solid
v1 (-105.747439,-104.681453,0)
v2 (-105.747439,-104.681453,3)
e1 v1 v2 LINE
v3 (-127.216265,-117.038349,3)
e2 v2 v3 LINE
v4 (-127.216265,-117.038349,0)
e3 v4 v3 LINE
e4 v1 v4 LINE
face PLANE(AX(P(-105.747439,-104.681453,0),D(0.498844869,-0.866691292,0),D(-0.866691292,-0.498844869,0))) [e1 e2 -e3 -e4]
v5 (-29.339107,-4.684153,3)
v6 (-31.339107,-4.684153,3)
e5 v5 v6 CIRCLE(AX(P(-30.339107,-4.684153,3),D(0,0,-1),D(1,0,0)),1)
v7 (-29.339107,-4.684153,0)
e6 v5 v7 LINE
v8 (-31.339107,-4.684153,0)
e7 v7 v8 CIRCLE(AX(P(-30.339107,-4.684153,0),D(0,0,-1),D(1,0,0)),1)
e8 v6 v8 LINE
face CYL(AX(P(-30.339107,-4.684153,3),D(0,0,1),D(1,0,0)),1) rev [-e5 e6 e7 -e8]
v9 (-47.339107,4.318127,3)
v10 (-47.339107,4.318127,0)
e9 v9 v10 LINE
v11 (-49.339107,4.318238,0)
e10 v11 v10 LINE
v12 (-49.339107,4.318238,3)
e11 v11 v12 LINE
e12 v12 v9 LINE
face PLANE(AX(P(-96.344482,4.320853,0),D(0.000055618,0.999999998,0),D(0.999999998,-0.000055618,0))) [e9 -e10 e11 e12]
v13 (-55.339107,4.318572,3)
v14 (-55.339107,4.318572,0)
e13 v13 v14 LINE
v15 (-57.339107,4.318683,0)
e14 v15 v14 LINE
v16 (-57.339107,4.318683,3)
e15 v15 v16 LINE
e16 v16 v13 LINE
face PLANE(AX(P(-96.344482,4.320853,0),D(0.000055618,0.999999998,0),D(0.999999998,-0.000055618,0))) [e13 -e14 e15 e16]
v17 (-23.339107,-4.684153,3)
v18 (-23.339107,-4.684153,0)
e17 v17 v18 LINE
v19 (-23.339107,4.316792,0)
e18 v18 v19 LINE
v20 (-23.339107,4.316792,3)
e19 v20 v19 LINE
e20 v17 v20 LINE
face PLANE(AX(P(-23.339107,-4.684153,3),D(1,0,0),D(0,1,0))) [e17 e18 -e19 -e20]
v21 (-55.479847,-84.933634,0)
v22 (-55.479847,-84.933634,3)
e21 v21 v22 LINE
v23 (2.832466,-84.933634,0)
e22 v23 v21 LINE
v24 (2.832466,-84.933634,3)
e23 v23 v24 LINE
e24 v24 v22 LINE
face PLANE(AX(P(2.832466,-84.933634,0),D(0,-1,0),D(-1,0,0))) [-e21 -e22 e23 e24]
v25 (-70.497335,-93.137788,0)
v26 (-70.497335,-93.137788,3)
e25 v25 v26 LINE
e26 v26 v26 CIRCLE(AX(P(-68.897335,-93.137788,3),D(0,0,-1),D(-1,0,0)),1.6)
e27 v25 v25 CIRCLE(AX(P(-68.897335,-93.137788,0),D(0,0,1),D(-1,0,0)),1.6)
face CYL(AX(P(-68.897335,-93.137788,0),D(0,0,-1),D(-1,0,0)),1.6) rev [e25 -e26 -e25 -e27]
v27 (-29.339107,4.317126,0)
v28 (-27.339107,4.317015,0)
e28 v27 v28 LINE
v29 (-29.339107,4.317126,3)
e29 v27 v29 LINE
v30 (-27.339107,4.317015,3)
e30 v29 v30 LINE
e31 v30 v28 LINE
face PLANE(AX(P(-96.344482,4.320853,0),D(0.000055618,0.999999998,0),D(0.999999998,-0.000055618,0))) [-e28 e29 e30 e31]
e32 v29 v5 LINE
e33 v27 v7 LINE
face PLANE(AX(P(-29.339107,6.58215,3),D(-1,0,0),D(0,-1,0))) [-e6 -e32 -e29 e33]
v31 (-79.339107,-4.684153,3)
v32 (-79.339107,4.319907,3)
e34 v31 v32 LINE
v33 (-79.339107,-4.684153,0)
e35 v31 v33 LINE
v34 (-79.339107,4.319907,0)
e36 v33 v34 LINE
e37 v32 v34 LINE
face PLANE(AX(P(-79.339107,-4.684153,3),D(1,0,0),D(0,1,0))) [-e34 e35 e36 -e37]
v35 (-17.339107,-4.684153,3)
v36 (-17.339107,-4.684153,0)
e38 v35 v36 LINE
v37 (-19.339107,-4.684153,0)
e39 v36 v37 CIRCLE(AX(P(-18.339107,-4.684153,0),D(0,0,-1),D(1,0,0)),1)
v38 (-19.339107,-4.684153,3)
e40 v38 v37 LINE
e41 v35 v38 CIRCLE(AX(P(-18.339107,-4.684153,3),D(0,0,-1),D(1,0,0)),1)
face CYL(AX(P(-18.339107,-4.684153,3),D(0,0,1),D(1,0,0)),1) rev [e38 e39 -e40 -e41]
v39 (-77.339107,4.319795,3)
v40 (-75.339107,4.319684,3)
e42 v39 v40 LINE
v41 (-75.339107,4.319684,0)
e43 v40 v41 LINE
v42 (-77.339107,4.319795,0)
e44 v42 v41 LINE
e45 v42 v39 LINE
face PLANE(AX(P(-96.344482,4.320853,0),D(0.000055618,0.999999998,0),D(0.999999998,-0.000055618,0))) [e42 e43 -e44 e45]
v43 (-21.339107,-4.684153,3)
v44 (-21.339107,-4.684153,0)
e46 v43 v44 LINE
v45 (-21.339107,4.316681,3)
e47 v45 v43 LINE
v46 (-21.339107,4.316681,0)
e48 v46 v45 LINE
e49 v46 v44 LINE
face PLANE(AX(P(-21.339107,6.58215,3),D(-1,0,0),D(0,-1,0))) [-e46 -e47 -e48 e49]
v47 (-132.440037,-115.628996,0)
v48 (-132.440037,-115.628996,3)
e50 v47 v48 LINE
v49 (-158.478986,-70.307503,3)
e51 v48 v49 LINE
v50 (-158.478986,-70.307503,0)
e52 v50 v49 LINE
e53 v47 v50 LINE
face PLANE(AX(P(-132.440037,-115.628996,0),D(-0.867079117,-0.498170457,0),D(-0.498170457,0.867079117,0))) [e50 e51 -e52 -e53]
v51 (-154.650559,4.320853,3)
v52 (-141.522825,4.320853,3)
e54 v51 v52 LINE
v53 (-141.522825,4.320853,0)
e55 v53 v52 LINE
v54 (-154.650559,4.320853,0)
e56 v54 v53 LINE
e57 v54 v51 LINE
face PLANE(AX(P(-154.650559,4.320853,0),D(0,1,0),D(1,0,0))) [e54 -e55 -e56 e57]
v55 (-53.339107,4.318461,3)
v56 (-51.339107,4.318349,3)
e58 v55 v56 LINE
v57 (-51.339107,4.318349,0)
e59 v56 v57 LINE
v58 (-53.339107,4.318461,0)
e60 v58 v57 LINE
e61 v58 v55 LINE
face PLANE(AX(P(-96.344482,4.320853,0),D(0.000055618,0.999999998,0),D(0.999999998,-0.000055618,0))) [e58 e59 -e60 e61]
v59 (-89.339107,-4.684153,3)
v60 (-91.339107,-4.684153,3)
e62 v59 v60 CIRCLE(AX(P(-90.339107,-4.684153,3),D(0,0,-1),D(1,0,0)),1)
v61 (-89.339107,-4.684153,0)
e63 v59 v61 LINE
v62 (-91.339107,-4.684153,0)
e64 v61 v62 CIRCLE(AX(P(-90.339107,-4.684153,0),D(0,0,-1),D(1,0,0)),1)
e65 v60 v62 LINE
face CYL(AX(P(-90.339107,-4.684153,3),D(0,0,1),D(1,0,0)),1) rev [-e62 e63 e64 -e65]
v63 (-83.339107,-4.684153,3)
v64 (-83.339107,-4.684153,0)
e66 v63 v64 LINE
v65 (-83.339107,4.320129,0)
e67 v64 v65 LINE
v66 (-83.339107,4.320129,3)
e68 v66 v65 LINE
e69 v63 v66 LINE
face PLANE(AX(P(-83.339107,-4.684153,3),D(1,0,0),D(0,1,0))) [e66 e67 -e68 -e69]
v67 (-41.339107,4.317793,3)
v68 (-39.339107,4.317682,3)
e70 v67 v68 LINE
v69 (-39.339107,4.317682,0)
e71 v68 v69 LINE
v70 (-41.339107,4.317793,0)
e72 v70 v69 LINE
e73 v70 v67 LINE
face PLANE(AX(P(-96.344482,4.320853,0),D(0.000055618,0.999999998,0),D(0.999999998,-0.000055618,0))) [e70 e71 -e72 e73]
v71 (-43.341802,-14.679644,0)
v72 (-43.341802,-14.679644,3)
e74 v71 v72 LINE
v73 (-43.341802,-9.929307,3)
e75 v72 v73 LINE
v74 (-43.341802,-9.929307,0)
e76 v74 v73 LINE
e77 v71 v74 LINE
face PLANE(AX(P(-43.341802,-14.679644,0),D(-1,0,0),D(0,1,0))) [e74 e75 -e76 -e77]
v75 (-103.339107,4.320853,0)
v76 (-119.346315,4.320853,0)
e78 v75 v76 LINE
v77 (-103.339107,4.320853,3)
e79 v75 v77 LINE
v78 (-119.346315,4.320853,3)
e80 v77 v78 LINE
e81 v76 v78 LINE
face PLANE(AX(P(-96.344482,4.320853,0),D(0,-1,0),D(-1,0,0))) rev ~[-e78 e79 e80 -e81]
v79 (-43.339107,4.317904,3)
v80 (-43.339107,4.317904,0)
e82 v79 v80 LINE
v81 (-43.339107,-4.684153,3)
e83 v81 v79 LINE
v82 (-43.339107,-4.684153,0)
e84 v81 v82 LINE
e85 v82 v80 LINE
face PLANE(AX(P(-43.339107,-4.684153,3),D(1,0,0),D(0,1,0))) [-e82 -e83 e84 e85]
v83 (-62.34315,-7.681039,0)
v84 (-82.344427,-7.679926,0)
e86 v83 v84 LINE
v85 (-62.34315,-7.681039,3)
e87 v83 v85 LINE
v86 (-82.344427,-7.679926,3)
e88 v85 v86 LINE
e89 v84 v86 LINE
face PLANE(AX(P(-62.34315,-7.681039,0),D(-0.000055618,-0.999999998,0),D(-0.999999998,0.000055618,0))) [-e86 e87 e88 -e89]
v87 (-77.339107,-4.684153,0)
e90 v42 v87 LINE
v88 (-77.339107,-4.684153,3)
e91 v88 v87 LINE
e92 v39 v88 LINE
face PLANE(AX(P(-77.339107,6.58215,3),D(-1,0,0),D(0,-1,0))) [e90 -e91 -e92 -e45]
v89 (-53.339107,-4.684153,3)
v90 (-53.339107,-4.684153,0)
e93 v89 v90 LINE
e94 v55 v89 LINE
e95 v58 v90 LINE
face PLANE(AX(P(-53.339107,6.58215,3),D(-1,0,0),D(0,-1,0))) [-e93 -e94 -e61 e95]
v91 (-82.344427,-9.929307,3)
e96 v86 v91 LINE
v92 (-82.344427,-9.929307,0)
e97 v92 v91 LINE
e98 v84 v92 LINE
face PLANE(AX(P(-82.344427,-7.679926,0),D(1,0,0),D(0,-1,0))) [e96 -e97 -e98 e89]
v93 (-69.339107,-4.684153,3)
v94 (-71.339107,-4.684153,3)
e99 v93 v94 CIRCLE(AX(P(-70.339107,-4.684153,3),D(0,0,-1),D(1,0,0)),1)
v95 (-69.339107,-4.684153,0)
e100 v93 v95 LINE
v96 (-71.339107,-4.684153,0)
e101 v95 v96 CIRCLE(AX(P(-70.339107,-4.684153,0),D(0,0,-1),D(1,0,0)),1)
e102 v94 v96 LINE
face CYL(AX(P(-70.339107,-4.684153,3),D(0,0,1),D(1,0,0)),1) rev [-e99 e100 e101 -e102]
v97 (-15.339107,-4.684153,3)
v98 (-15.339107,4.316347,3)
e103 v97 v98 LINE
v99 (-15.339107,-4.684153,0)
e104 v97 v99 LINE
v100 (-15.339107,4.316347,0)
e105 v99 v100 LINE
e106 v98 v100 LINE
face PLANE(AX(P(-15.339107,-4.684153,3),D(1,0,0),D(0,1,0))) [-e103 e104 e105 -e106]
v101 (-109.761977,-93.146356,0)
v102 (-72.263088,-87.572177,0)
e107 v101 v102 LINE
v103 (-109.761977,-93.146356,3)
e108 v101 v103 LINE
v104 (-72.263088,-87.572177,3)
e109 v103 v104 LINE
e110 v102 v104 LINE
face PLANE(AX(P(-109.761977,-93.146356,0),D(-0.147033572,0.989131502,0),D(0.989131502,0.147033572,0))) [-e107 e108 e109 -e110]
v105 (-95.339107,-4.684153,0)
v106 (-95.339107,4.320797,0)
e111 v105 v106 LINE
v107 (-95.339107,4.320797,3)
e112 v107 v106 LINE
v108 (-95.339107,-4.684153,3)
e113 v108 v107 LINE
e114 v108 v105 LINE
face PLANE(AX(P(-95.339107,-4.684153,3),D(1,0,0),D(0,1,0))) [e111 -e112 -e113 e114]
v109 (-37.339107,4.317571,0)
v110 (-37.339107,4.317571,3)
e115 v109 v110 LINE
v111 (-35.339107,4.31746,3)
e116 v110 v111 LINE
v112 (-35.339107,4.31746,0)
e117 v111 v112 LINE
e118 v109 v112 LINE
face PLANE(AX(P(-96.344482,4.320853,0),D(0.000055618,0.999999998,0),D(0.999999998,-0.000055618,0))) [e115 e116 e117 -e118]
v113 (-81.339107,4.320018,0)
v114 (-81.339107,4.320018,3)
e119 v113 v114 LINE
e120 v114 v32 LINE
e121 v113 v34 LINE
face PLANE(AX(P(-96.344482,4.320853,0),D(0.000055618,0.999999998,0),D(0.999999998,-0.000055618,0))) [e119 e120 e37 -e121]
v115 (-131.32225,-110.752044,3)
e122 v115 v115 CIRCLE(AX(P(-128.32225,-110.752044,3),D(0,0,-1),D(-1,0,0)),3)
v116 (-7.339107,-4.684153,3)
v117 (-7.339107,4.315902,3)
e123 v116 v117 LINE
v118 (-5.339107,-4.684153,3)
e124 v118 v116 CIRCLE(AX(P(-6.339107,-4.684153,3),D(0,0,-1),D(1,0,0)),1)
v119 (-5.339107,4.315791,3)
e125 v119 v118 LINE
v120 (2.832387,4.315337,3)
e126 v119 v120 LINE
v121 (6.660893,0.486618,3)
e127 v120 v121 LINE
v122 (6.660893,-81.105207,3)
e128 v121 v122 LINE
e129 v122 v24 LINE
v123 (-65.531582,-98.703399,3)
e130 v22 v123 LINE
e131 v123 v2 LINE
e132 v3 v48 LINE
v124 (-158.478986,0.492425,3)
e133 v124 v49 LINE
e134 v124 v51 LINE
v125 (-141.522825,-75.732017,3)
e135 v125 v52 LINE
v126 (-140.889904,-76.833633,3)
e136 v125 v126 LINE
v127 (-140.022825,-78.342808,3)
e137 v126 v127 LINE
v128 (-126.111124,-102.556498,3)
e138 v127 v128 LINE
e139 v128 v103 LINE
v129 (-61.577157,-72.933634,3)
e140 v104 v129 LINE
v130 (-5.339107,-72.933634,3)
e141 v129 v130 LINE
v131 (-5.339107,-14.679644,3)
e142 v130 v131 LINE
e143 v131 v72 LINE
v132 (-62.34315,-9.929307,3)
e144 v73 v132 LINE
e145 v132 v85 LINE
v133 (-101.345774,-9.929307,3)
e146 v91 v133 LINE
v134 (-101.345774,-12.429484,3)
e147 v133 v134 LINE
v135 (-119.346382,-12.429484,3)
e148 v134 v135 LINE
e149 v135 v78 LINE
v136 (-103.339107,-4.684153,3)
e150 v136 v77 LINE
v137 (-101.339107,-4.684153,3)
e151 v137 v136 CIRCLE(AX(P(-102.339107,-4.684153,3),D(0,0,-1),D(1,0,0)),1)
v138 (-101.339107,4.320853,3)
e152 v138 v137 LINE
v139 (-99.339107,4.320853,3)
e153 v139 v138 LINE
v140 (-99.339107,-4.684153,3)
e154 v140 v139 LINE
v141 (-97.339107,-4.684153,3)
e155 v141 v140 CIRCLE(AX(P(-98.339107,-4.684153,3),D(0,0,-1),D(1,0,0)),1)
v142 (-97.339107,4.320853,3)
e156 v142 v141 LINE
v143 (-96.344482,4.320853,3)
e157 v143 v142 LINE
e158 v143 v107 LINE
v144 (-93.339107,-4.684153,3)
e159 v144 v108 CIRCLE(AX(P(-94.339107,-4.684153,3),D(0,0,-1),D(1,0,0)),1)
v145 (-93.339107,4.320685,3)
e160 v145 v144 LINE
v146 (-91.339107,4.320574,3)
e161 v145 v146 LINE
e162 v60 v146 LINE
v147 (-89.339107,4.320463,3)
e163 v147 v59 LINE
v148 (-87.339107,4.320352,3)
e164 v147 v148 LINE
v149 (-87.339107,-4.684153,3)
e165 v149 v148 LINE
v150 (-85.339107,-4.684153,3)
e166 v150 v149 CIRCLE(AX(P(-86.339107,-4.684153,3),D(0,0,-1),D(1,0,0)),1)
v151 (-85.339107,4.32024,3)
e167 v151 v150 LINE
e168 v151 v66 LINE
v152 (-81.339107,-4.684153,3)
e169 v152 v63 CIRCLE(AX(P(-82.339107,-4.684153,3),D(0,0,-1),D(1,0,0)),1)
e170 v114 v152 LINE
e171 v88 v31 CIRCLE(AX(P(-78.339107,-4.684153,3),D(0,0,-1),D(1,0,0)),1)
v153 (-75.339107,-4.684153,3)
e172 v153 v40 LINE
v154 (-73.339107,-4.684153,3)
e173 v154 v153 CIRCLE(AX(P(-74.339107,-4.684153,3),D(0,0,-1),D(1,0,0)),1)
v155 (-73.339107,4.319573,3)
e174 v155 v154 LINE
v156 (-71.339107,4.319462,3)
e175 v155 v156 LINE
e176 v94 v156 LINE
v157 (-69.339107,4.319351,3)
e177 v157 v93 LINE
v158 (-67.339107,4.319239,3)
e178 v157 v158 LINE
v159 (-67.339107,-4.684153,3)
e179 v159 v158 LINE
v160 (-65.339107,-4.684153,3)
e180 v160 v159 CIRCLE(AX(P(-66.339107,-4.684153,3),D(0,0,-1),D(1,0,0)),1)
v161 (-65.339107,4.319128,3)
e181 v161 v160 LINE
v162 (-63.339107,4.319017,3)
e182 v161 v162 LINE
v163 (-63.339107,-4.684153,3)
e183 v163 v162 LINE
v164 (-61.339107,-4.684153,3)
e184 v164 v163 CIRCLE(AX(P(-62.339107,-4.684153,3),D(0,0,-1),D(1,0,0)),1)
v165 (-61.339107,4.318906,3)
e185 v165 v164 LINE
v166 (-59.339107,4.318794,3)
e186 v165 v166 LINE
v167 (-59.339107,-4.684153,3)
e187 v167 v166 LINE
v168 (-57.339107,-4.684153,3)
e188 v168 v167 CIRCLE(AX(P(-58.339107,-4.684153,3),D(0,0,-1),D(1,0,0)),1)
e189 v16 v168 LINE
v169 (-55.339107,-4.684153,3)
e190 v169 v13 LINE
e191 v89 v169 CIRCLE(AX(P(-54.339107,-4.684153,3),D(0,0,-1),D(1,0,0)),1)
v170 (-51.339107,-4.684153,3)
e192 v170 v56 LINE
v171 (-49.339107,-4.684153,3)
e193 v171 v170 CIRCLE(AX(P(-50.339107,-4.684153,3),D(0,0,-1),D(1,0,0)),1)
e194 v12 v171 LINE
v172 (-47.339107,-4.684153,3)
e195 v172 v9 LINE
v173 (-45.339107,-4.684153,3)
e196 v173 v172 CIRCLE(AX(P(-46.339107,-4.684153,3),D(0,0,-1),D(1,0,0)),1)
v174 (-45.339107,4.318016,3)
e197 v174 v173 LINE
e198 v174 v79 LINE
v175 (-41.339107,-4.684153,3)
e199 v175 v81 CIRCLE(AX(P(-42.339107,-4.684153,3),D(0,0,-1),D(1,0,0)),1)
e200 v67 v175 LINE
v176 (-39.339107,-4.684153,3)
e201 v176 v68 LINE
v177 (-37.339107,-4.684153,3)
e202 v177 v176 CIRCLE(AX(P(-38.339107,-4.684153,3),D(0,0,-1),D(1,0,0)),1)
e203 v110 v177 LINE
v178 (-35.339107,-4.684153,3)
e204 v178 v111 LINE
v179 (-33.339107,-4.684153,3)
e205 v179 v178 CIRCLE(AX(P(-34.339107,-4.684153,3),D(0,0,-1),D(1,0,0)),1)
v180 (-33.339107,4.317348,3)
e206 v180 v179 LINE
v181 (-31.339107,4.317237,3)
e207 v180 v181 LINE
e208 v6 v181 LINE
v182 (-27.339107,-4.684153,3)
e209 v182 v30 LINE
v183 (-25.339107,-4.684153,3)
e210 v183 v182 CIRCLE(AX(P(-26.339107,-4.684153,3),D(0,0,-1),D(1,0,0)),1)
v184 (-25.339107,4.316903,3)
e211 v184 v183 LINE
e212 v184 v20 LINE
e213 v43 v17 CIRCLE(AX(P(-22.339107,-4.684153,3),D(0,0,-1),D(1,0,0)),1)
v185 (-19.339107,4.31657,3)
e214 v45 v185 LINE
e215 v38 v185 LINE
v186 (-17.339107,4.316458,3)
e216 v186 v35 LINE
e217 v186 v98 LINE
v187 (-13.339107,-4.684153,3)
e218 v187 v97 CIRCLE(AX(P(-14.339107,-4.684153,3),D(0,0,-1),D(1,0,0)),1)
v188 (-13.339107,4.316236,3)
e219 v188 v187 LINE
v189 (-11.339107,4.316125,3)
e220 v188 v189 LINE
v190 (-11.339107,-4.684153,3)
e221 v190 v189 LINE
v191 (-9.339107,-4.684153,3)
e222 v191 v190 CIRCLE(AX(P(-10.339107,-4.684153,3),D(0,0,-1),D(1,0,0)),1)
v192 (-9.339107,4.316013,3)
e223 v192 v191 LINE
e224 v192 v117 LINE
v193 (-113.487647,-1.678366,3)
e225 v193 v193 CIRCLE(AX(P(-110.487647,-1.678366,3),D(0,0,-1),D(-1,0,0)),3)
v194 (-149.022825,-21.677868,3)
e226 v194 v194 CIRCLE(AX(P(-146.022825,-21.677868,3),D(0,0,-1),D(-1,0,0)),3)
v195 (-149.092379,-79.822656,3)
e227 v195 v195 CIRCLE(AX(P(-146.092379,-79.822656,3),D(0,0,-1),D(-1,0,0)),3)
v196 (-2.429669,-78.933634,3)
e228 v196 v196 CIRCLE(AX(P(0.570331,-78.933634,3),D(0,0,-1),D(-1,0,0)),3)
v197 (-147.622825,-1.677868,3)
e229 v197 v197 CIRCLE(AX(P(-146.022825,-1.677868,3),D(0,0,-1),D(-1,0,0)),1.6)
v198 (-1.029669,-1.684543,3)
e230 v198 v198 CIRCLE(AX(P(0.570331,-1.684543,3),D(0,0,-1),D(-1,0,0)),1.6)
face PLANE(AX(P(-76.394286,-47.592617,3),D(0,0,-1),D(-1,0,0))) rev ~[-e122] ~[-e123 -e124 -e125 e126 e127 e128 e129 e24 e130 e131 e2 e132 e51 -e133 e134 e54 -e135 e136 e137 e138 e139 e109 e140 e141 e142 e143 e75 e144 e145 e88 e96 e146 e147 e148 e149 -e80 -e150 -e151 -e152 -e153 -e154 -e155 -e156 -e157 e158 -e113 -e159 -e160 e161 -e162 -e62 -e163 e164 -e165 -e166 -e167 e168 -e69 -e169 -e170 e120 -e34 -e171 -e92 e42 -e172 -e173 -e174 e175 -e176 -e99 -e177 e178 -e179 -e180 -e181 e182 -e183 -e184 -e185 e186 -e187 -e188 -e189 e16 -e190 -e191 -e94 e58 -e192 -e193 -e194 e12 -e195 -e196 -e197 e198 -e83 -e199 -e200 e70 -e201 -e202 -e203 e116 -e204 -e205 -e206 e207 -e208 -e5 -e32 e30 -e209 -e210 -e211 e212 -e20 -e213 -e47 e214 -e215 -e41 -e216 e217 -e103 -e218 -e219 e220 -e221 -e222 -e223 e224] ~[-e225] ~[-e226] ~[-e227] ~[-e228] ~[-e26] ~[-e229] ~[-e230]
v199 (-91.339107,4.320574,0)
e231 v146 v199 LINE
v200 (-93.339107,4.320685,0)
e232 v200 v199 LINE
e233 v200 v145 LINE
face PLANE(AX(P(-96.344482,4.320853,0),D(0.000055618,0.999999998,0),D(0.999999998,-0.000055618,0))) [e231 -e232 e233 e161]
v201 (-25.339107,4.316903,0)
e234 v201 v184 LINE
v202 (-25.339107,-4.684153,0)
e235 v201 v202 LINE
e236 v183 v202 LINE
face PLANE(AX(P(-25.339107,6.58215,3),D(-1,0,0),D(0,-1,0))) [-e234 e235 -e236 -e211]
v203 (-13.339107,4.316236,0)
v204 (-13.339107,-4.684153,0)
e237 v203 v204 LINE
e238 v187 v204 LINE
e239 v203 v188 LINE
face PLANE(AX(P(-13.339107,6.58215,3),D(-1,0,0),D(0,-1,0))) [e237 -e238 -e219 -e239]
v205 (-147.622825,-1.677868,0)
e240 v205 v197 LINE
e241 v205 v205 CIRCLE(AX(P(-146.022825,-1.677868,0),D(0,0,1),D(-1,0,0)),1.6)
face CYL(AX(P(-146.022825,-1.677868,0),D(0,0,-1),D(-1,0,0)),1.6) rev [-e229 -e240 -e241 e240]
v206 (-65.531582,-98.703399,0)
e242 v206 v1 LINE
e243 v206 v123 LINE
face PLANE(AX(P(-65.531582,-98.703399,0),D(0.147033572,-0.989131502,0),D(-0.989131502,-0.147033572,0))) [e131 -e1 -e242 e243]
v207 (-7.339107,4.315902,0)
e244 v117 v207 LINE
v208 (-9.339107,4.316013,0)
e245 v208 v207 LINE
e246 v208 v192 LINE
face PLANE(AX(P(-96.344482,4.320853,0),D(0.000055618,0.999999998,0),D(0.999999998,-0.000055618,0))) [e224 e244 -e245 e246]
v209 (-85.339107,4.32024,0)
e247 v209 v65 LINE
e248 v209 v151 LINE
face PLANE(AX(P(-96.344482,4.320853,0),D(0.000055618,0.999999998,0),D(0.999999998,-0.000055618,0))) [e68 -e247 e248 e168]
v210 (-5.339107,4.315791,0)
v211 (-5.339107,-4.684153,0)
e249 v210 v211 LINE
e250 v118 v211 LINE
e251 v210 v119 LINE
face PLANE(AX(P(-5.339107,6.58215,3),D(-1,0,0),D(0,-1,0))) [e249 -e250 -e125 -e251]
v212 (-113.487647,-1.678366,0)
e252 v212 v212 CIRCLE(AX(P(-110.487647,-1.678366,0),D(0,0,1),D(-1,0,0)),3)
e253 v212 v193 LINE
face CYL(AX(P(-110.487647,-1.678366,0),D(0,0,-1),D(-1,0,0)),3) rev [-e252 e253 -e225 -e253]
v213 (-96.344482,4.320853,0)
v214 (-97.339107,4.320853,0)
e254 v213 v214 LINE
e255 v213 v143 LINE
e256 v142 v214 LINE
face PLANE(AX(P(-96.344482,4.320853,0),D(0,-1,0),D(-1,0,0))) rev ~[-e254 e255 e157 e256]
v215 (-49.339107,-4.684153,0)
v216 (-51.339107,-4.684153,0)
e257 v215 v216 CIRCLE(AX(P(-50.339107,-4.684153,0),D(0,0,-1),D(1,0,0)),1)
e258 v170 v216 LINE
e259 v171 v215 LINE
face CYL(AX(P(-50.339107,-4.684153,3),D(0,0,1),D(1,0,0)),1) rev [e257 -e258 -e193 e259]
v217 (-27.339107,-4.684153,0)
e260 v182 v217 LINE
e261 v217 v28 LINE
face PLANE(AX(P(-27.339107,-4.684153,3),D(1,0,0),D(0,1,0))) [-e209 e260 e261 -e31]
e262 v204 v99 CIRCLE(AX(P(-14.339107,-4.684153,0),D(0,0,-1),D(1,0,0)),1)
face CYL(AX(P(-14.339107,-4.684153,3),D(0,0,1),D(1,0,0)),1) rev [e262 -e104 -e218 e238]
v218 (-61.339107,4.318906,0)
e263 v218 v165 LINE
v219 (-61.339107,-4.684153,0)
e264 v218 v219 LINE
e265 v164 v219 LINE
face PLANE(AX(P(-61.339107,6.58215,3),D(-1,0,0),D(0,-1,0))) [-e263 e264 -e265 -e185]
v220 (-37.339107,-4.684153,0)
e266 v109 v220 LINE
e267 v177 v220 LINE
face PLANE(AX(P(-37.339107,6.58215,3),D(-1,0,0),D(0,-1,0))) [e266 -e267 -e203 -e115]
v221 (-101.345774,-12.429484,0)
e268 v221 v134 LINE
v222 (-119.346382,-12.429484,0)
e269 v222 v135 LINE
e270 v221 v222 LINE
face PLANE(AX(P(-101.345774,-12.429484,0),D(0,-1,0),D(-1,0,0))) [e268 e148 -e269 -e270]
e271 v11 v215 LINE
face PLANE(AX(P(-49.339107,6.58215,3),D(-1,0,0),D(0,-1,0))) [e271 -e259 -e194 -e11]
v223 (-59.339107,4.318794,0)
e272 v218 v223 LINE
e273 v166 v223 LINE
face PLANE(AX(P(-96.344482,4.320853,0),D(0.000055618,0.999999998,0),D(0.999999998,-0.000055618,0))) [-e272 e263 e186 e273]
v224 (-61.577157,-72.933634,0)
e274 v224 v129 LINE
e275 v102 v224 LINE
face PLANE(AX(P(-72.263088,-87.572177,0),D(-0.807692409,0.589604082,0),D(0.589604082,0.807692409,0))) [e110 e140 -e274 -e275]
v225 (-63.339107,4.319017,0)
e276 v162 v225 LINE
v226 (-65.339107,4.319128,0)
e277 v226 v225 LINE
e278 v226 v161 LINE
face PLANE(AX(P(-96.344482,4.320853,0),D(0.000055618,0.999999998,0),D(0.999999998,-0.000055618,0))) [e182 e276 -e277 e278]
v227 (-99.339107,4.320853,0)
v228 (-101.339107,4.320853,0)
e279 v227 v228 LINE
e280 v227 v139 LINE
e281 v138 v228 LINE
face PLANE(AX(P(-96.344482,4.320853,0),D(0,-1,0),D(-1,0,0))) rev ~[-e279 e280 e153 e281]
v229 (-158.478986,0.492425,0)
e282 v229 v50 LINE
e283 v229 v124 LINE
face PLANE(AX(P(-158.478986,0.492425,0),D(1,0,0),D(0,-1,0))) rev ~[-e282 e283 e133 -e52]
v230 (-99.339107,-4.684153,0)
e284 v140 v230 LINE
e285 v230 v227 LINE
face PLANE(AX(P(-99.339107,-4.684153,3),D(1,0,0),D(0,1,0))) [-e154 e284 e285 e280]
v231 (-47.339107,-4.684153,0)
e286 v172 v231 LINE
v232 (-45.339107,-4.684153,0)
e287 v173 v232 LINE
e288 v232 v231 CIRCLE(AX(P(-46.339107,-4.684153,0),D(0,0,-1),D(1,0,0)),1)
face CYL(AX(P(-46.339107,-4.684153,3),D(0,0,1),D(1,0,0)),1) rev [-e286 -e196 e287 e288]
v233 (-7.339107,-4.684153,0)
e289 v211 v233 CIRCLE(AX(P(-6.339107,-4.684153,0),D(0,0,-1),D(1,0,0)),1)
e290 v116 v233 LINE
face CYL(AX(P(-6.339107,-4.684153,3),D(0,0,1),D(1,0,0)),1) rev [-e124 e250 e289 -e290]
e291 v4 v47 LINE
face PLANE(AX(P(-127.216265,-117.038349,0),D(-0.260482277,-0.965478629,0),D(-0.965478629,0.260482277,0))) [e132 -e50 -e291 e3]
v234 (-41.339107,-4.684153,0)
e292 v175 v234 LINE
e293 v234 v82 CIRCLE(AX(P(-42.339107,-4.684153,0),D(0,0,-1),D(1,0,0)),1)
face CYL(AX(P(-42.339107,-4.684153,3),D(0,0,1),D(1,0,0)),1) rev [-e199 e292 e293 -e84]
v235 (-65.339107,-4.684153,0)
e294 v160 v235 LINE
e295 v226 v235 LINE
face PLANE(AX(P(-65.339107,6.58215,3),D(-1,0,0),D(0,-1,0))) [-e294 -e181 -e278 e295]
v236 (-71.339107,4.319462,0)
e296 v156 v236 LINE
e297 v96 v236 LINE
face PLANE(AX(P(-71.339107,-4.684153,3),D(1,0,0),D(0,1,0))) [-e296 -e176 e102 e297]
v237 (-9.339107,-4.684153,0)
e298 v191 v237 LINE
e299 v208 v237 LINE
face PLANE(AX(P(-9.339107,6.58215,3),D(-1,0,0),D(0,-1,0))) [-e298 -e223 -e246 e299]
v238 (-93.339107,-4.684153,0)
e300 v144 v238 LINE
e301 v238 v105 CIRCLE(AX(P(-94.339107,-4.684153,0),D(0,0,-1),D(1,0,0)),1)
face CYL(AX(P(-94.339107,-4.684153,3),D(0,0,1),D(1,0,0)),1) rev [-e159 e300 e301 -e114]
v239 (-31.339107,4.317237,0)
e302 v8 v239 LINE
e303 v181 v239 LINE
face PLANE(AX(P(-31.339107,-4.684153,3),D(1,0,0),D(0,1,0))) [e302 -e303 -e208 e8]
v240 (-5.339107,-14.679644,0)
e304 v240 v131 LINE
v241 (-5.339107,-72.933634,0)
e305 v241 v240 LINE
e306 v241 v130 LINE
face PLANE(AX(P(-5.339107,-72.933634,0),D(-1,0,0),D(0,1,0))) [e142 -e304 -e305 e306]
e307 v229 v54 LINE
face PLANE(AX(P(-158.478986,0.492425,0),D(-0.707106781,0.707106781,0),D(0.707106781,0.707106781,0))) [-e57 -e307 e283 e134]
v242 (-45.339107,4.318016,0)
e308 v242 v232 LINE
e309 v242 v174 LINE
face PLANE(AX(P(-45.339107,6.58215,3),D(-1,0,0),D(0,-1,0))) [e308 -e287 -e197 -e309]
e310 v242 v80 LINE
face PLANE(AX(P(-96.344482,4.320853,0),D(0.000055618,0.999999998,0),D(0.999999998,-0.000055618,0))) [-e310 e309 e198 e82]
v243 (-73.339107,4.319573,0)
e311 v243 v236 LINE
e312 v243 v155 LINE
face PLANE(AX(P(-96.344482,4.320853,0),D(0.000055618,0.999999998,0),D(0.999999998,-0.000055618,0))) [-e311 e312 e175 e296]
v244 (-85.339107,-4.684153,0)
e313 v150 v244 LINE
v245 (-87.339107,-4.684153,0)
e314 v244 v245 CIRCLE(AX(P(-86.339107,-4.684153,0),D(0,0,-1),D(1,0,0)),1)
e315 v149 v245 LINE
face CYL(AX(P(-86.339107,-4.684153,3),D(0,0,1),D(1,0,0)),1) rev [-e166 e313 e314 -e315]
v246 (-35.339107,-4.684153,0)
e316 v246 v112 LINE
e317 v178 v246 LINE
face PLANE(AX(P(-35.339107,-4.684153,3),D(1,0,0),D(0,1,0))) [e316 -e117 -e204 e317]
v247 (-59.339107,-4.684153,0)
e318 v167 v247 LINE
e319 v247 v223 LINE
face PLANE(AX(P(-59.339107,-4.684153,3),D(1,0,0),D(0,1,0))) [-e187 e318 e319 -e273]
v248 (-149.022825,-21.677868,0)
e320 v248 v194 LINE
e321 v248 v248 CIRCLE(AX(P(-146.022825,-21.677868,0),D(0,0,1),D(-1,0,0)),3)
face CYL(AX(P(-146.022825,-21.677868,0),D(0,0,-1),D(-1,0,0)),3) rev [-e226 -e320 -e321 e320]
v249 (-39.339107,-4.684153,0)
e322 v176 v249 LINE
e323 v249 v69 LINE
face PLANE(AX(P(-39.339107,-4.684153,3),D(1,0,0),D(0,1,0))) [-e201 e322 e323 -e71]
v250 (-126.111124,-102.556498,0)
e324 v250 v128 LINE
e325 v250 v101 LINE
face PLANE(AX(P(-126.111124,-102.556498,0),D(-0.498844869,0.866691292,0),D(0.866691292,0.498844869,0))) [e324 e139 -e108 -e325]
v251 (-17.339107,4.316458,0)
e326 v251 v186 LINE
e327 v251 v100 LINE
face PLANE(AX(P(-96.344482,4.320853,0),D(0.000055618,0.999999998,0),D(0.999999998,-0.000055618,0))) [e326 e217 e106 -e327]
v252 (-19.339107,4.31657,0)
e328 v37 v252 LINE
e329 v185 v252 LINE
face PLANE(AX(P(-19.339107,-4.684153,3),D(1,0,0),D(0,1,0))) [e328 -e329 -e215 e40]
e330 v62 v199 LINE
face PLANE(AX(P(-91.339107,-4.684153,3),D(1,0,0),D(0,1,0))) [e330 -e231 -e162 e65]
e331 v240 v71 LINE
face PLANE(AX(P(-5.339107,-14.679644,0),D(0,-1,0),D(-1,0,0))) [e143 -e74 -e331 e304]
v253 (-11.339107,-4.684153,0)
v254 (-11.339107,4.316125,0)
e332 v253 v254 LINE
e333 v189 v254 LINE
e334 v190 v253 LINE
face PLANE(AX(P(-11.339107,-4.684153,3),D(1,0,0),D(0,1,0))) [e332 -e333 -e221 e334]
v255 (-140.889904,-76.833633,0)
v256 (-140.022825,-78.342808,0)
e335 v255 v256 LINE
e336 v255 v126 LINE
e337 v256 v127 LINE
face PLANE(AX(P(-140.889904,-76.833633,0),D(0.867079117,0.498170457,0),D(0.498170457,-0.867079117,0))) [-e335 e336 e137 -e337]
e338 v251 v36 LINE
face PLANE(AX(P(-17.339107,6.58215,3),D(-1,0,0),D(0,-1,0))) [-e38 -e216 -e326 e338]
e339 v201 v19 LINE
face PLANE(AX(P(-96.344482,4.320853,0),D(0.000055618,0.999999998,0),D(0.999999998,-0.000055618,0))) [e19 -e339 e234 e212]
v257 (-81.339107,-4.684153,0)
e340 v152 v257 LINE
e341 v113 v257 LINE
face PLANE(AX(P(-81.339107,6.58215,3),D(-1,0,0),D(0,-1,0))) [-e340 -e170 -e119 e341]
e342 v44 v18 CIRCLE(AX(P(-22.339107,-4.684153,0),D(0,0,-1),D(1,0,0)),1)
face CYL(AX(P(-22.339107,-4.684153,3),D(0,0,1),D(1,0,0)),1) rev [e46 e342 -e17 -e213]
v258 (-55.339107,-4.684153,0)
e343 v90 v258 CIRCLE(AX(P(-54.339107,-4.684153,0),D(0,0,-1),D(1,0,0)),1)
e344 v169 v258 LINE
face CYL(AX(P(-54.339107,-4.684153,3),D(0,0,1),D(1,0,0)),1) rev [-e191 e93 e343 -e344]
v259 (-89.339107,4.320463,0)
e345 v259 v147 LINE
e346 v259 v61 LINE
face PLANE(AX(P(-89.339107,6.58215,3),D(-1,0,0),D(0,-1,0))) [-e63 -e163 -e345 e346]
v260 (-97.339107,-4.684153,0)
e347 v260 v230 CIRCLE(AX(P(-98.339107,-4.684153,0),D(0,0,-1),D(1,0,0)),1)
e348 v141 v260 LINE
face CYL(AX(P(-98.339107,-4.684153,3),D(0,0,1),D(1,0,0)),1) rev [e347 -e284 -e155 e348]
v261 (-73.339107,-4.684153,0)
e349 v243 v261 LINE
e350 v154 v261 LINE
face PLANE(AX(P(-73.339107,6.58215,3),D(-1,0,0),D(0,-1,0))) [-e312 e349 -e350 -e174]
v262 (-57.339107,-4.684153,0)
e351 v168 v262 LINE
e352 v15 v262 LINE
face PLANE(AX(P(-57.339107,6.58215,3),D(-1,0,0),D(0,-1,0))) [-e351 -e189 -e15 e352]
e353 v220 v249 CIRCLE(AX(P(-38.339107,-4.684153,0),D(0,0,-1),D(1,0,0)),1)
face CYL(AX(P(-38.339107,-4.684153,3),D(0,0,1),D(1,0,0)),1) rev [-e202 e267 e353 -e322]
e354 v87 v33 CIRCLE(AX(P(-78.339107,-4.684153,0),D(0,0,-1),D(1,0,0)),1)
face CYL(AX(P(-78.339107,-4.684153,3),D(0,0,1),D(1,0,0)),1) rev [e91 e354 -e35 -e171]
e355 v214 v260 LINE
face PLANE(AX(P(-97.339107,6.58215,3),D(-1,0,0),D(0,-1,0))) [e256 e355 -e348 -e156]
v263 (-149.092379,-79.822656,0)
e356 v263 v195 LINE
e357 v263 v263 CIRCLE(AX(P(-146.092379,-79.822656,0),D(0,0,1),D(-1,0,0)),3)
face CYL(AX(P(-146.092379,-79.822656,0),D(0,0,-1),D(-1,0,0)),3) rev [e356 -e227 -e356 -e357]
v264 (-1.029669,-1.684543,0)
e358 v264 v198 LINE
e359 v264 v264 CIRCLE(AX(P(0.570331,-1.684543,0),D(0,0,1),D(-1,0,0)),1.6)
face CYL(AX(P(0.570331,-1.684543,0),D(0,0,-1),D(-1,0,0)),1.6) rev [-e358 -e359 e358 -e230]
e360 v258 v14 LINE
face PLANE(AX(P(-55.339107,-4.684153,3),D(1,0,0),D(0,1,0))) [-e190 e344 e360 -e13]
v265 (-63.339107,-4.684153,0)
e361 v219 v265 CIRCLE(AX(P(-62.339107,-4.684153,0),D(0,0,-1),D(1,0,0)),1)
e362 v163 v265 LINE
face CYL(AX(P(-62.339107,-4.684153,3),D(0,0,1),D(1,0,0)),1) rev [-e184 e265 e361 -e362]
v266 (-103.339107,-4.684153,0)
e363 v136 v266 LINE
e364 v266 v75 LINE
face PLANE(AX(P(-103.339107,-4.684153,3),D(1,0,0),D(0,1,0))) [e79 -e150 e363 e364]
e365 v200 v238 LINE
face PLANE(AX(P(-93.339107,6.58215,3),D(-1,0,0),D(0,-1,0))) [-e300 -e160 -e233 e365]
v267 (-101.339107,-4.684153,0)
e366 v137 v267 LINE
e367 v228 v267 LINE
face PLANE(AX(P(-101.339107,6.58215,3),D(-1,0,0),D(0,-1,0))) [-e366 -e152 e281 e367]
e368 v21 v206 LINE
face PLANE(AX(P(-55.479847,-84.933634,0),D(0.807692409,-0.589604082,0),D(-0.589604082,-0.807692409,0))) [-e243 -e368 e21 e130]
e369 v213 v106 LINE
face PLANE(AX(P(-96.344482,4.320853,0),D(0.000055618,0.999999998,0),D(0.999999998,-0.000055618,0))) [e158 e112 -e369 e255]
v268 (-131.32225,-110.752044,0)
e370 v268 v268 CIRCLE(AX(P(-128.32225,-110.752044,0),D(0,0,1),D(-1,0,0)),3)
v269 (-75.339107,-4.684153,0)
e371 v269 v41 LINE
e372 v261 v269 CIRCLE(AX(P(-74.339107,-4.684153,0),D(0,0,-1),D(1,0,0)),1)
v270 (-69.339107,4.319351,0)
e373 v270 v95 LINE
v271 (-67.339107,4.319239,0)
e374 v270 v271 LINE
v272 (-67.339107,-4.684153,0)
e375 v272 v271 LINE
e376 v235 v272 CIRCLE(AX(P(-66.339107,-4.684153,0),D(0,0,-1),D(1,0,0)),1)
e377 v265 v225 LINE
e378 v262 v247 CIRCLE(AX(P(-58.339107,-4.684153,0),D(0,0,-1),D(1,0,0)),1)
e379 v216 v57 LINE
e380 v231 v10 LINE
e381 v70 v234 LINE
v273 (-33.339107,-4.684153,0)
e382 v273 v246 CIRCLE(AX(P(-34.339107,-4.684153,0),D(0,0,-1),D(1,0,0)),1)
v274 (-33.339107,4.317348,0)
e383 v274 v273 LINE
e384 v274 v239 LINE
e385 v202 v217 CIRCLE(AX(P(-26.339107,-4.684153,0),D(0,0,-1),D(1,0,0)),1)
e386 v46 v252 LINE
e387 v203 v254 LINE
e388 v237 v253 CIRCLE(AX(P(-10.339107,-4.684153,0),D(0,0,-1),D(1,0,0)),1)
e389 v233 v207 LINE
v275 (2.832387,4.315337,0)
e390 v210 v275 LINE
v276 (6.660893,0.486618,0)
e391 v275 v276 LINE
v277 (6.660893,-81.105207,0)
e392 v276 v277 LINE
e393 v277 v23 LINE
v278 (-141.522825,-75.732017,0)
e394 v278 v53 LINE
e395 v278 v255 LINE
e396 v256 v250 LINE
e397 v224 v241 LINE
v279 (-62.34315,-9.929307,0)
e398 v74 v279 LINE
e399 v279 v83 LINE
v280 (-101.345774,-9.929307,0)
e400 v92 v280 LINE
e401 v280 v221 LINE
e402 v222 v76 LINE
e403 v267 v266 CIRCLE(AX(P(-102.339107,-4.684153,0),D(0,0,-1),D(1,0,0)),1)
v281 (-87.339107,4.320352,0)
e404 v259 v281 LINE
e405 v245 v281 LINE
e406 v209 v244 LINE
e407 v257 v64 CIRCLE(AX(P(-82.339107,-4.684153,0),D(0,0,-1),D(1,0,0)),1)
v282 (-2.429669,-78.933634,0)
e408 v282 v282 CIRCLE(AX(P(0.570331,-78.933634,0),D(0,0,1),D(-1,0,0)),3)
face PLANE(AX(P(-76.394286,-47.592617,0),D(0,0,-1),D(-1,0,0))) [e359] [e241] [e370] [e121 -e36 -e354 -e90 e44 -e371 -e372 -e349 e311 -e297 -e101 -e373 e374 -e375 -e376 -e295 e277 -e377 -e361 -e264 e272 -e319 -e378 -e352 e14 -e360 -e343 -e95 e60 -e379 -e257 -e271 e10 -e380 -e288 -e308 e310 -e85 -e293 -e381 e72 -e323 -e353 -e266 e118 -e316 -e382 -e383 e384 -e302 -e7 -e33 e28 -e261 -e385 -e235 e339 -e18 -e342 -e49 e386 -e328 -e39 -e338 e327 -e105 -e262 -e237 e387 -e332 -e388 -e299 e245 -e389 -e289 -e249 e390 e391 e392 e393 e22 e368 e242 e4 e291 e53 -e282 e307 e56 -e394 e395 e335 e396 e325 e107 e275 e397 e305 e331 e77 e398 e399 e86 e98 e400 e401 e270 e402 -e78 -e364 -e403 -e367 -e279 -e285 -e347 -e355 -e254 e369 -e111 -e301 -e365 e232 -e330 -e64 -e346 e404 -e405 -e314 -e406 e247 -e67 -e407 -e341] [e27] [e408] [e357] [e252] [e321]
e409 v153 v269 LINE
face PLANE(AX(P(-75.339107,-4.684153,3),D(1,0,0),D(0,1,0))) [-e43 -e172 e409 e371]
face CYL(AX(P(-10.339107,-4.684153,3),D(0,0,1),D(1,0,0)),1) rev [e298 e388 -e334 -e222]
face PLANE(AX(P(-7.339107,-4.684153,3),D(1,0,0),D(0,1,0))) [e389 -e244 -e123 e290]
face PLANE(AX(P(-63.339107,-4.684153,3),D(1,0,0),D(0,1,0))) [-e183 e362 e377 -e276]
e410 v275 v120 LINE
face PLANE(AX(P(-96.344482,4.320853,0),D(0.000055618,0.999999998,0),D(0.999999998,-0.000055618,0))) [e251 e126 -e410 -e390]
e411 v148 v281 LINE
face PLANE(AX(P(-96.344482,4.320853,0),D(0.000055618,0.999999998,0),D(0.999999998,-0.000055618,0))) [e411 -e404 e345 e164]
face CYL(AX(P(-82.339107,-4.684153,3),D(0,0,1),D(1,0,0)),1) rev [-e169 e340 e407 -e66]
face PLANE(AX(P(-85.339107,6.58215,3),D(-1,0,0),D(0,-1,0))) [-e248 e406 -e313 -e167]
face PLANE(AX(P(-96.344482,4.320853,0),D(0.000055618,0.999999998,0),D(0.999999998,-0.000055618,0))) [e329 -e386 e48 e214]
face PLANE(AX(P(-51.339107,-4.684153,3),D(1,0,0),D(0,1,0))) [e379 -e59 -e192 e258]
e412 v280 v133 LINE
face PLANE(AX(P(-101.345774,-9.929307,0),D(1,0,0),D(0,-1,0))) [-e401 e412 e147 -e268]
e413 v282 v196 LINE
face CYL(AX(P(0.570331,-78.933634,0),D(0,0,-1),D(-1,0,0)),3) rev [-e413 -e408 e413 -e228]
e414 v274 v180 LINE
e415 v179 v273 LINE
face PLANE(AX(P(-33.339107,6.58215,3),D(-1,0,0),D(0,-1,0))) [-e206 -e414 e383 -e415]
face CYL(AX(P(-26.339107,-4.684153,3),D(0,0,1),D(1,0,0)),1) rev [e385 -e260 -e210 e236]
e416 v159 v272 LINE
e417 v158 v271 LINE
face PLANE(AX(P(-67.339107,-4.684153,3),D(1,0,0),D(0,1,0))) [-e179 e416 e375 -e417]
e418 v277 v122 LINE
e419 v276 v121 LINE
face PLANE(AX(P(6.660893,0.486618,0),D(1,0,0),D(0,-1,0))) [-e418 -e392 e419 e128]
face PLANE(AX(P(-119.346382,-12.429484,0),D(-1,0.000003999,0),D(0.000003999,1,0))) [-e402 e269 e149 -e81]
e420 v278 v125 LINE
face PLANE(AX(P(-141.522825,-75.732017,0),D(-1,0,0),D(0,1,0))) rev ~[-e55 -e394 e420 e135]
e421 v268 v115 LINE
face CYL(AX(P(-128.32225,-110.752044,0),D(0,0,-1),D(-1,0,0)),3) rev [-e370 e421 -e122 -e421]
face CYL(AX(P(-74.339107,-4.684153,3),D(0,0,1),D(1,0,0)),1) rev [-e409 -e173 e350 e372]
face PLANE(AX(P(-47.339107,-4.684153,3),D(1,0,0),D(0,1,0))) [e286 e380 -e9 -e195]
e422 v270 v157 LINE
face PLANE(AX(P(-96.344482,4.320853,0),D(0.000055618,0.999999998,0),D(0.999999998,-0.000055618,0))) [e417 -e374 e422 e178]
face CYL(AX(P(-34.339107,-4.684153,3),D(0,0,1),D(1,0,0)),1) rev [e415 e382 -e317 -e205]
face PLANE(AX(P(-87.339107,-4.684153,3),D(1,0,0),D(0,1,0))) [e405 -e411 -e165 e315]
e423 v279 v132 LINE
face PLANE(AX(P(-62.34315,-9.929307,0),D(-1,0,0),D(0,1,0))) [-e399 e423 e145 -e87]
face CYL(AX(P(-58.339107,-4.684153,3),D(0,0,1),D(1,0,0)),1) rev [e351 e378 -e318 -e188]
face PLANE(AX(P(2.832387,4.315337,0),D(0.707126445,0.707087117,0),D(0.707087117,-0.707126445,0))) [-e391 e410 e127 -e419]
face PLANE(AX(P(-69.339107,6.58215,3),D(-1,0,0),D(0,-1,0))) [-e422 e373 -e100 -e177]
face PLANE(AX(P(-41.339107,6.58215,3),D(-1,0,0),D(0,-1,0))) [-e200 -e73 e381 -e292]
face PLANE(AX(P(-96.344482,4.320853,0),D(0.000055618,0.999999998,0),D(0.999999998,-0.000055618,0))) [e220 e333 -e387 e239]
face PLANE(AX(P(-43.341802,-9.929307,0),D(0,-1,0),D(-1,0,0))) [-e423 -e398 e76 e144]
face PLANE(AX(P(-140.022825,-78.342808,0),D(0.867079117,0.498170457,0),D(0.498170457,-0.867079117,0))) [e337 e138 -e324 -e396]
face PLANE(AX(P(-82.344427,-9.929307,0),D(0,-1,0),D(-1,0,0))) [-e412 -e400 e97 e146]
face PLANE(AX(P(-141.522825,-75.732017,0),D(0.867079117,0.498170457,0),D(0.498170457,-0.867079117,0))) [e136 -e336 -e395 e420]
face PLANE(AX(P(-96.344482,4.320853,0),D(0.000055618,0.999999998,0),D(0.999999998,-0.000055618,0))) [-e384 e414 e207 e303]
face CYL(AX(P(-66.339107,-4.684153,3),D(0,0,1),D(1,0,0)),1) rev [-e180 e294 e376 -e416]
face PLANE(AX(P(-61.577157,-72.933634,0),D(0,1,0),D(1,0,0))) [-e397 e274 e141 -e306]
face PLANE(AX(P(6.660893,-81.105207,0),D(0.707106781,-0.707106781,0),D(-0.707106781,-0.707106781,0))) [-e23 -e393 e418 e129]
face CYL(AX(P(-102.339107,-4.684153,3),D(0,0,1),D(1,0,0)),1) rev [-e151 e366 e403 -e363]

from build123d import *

# Parameters (mm, degrees)
BOSS_EXTRU_2_DEPTH      = 3
ENL_V_MAT_EXTRU_1_DEPTH = 3
ESQUISSE3_R             = 3
ESQUISSE3_R_2           = 1.6
ENL_V_MAT_EXTRU_3_DEPTH = 10


with BuildPart() as part:
    # Esquisse1 → Boss.-Extru.2 (new body)
    with BuildSketch(Plane.XY):
        Polygon((-140.02282508, -78.342807898), (-126.111124489, -102.556497988), (-109.761976756, -93.1463556), (-72.263087593, -87.572177036), (-61.577157206, -72.933633781), (-5.339106961, -72.933633781), (-5.339106961, -14.679643994), (-43.341802282, -14.679643994), (-43.341802282, -9.929307079), (-62.343149943, -9.929307079), (-62.343149943, -7.681038584), (-82.344426674, -7.679926158), (-82.344426674, -9.929307079), (-101.345774335, -9.929307079), (-101.345774335, -12.429484403), (-119.346382005, -12.429484403), (-119.346315028, 4.320852512), (-103.340940531, 4.320852512), (-96.344482292, 4.320852512), (2.832387268, 4.315336518), (6.660893039, 0.486617808), (6.660893039, -81.105206657), (2.832465915, -84.933633781), (-55.479847181, -84.933633781), (-65.531582138, -98.70339941), (-105.747438988, -104.681452952), (-127.216265437, -117.03834868), (-132.440036759, -115.628996046), (-158.478985875, -70.307502815), (-158.478985875, -3.429484403), (-158.478985875, 0.492425388), (-154.65055875, 4.320852512), (-141.52282508, 4.320852512), (-141.52282508, -75.180151251), (-141.52282508, -75.732017442), (-140.889904197, -76.833633309), align=None)
    extrude(amount=BOSS_EXTRU_2_DEPTH)

    # Esquisse2 → Enlèv. mat.-Extru.1 (cut)
    with BuildSketch(Plane.XY.offset(3)):
        with BuildLine():
            Line((-5.339106961, 6.582149677), (-5.339106961, -4.684153384))
            ThreePointArc((-5.339106961, -4.684153384), (-6.339106961, -5.684153384), (-7.339106961, -4.684153384))
            Line((-7.339106961, -4.684153384), (-7.339106961, 6.582149677))
            ThreePointArc((-7.339106961, 6.582149677), (-6.339106961, 7.582149677), (-5.339106961, 6.582149677))
        make_face()
        with BuildLine():
            Line((-9.339106961, 6.582149677), (-9.339106961, -4.684153384))
            ThreePointArc((-9.339106961, -4.684153384), (-10.339106961, -5.684153384), (-11.339106961, -4.684153384))
            Line((-11.339106961, -4.684153384), (-11.339106961, 6.582149677))
            ThreePointArc((-11.339106961, 6.582149677), (-10.339106961, 7.582149677), (-9.339106961, 6.582149677))
        make_face()
        with BuildLine():
            Line((-13.339106961, 6.582149677), (-13.339106961, -4.684153384))
            ThreePointArc((-13.339106961, -4.684153384), (-14.339106961, -5.684153384), (-15.339106961, -4.684153384))
            Line((-15.339106961, -4.684153384), (-15.339106961, 6.582149677))
            ThreePointArc((-15.339106961, 6.582149677), (-14.339106961, 7.582149677), (-13.339106961, 6.582149677))
        make_face()
        with BuildLine():
            Line((-17.339106961, 6.582149677), (-17.339106961, -4.684153384))
            ThreePointArc((-17.339106961, -4.684153384), (-18.339106961, -5.684153384), (-19.339106961, -4.684153384))
            Line((-19.339106961, -4.684153384), (-19.339106961, 6.582149677))
            ThreePointArc((-19.339106961, 6.582149677), (-18.339106961, 7.582149677), (-17.339106961, 6.582149677))
        make_face()
        with BuildLine():
            Line((-21.339106961, 6.582149677), (-21.339106961, -4.684153384))
            ThreePointArc((-21.339106961, -4.684153384), (-22.339106961, -5.684153384), (-23.339106961, -4.684153384))
            Line((-23.339106961, -4.684153384), (-23.339106961, 6.582149677))
            ThreePointArc((-23.339106961, 6.582149677), (-22.339106961, 7.582149677), (-21.339106961, 6.582149677))
        make_face()
        with BuildLine():
            Line((-25.339106961, 6.582149677), (-25.339106961, -4.684153384))
            ThreePointArc((-25.339106961, -4.684153384), (-26.339106961, -5.684153384), (-27.339106961, -4.684153384))
            Line((-27.339106961, -4.684153384), (-27.339106961, 6.582149677))
            ThreePointArc((-27.339106961, 6.582149677), (-26.339106961, 7.582149677), (-25.339106961, 6.582149677))
        make_face()
        with BuildLine():
            Line((-29.339106961, 6.582149677), (-29.339106961, -4.684153384))
            ThreePointArc((-29.339106961, -4.684153384), (-30.339106961, -5.684153384), (-31.339106961, -4.684153384))
            Line((-31.339106961, -4.684153384), (-31.339106961, 6.582149677))
            ThreePointArc((-31.339106961, 6.582149677), (-30.339106961, 7.582149677), (-29.339106961, 6.582149677))
        make_face()
        with BuildLine():
            Line((-33.339106961, 6.582149677), (-33.339106961, -4.684153384))
            ThreePointArc((-33.339106961, -4.684153384), (-34.339106961, -5.684153384), (-35.339106961, -4.684153384))
            Line((-35.339106961, -4.684153384), (-35.339106961, 6.582149677))
            ThreePointArc((-35.339106961, 6.582149677), (-34.339106961, 7.582149677), (-33.339106961, 6.582149677))
        make_face()
        with BuildLine():
            Line((-37.339106961, 6.582149677), (-37.339106961, -4.684153384))
            ThreePointArc((-37.339106961, -4.684153384), (-38.339106961, -5.684153384), (-39.339106961, -4.684153384))
            Line((-39.339106961, -4.684153384), (-39.339106961, 6.582149677))
            ThreePointArc((-39.339106961, 6.582149677), (-38.339106961, 7.582149677), (-37.339106961, 6.582149677))
        make_face()
        with BuildLine():
            Line((-41.339106961, 6.582149677), (-41.339106961, -4.684153384))
            ThreePointArc((-41.339106961, -4.684153384), (-42.339106961, -5.684153384), (-43.339106961, -4.684153384))
            Line((-43.339106961, -4.684153384), (-43.339106961, 6.582149677))
            ThreePointArc((-43.339106961, 6.582149677), (-42.339106961, 7.582149677), (-41.339106961, 6.582149677))
        make_face()
        with BuildLine():
            Line((-45.339106961, 6.582149677), (-45.339106961, -4.684153384))
            ThreePointArc((-45.339106961, -4.684153384), (-46.339106961, -5.684153384), (-47.339106961, -4.684153384))
            Line((-47.339106961, -4.684153384), (-47.339106961, 6.582149677))
            ThreePointArc((-47.339106961, 6.582149677), (-46.339106961, 7.582149677), (-45.339106961, 6.582149677))
        make_face()
        with BuildLine():
            Line((-49.339106961, 6.582149677), (-49.339106961, -4.684153384))
            ThreePointArc((-49.339106961, -4.684153384), (-50.339106961, -5.684153384), (-51.339106961, -4.684153384))
            Line((-51.339106961, -4.684153384), (-51.339106961, 6.582149677))
            ThreePointArc((-51.339106961, 6.582149677), (-50.339106961, 7.582149677), (-49.339106961, 6.582149677))
        make_face()
        with BuildLine():
            Line((-53.339106961, 6.582149677), (-53.339106961, -4.684153384))
            ThreePointArc((-53.339106961, -4.684153384), (-54.339106961, -5.684153384), (-55.339106961, -4.684153384))
            Line((-55.339106961, -4.684153384), (-55.339106961, 6.582149677))
            ThreePointArc((-55.339106961, 6.582149677), (-54.339106961, 7.582149677), (-53.339106961, 6.582149677))
        make_face()
        with BuildLine():
            Line((-57.339106961, 6.582149677), (-57.339106961, -4.684153384))
            ThreePointArc((-57.339106961, -4.684153384), (-58.339106961, -5.684153384), (-59.339106961, -4.684153384))
            Line((-59.339106961, -4.684153384), (-59.339106961, 6.582149677))
            ThreePointArc((-59.339106961, 6.582149677), (-58.339106961, 7.582149677), (-57.339106961, 6.582149677))
        make_face()
        with BuildLine():
            Line((-61.339106961, 6.582149677), (-61.339106961, -4.684153384))
            ThreePointArc((-61.339106961, -4.684153384), (-62.339106961, -5.684153384), (-63.339106961, -4.684153384))
            Line((-63.339106961, -4.684153384), (-63.339106961, 6.582149677))
            ThreePointArc((-63.339106961, 6.582149677), (-62.339106961, 7.582149677), (-61.339106961, 6.582149677))
        make_face()
        with BuildLine():
            Line((-65.339106961, 6.582149677), (-65.339106961, -4.684153384))
            ThreePointArc((-65.339106961, -4.684153384), (-66.339106961, -5.684153384), (-67.339106961, -4.684153384))
            Line((-67.339106961, -4.684153384), (-67.339106961, 6.582149677))
            ThreePointArc((-67.339106961, 6.582149677), (-66.339106961, 7.582149677), (-65.339106961, 6.582149677))
        make_face()
        with BuildLine():
            Line((-69.339106961, 6.582149677), (-69.339106961, -4.684153384))
            ThreePointArc((-69.339106961, -4.684153384), (-70.339106961, -5.684153384), (-71.339106961, -4.684153384))
            Line((-71.339106961, -4.684153384), (-71.339106961, 6.582149677))
            ThreePointArc((-71.339106961, 6.582149677), (-70.339106961, 7.582149677), (-69.339106961, 6.582149677))
        make_face()
        with BuildLine():
            Line((-73.339106961, 6.582149677), (-73.339106961, -4.684153384))
            ThreePointArc((-73.339106961, -4.684153384), (-74.339106961, -5.684153384), (-75.339106961, -4.684153384))
            Line((-75.339106961, -4.684153384), (-75.339106961, 6.582149677))
            ThreePointArc((-75.339106961, 6.582149677), (-74.339106961, 7.582149677), (-73.339106961, 6.582149677))
        make_face()
        with BuildLine():
            Line((-77.339106961, 6.582149677), (-77.339106961, -4.684153384))
            ThreePointArc((-77.339106961, -4.684153384), (-78.339106961, -5.684153384), (-79.339106961, -4.684153384))
            Line((-79.339106961, -4.684153384), (-79.339106961, 6.582149677))
            ThreePointArc((-79.339106961, 6.582149677), (-78.339106961, 7.582149677), (-77.339106961, 6.582149677))
        make_face()
        with BuildLine():
            Line((-81.339106961, 6.582149677), (-81.339106961, -4.684153384))
            ThreePointArc((-81.339106961, -4.684153384), (-82.339106961, -5.684153384), (-83.339106961, -4.684153384))
            Line((-83.339106961, -4.684153384), (-83.339106961, 6.582149677))
            ThreePointArc((-83.339106961, 6.582149677), (-82.339106961, 7.582149677), (-81.339106961, 6.582149677))
        make_face()
        with BuildLine():
            Line((-85.339106961, 6.582149677), (-85.339106961, -4.684153384))
            ThreePointArc((-85.339106961, -4.684153384), (-86.339106961, -5.684153384), (-87.339106961, -4.684153384))
            Line((-87.339106961, -4.684153384), (-87.339106961, 6.582149677))
            ThreePointArc((-87.339106961, 6.582149677), (-86.339106961, 7.582149677), (-85.339106961, 6.582149677))
        make_face()
        with BuildLine():
            Line((-89.339106961, 6.582149677), (-89.339106961, -4.684153384))
            ThreePointArc((-89.339106961, -4.684153384), (-90.339106961, -5.684153384), (-91.339106961, -4.684153384))
            Line((-91.339106961, -4.684153384), (-91.339106961, 6.582149677))
            ThreePointArc((-91.339106961, 6.582149677), (-90.339106961, 7.582149677), (-89.339106961, 6.582149677))
        make_face()
        with BuildLine():
            Line((-93.339106961, 6.582149677), (-93.339106961, -4.684153384))
            ThreePointArc((-93.339106961, -4.684153384), (-94.339106961, -5.684153384), (-95.339106961, -4.684153384))
            Line((-95.339106961, -4.684153384), (-95.339106961, 6.582149677))
            ThreePointArc((-95.339106961, 6.582149677), (-94.339106961, 7.582149677), (-93.339106961, 6.582149677))
        make_face()
        with BuildLine():
            Line((-97.339106961, 6.582149677), (-97.339106961, -4.684153384))
            ThreePointArc((-97.339106961, -4.684153384), (-98.339106961, -5.684153384), (-99.339106961, -4.684153384))
            Line((-99.339106961, -4.684153384), (-99.339106961, 6.582149677))
            ThreePointArc((-99.339106961, 6.582149677), (-98.339106961, 7.582149677), (-97.339106961, 6.582149677))
        make_face()
        with BuildLine():
            Line((-101.339106961, 6.582149677), (-101.339106961, -4.684153384))
            ThreePointArc((-101.339106961, -4.684153384), (-102.339106961, -5.684153384), (-103.339106961, -4.684153384))
            Line((-103.339106961, -4.684153384), (-103.339106961, 6.582149677))
            ThreePointArc((-103.339106961, 6.582149677), (-102.339106961, 7.582149677), (-101.339106961, 6.582149677))
        make_face()
    extrude(amount=-ENL_V_MAT_EXTRU_1_DEPTH, mode=Mode.SUBTRACT)

    # Esquisse3 → Enlèv. mat.-Extru.3 (cut)
    with BuildSketch(Plane.XY):
        with Locations(Location((-110.487646531, -1.678365923, 0), (0, 0, 180))):
            Circle(ESQUISSE3_R)
        with Locations(Location((-146.0923789, -79.822656053, 0), (0, 0, 180))):
            Circle(ESQUISSE3_R)
        with Locations(Location((-128.322250168, -110.752044388, 0), (0, 0, 180))):
            Circle(ESQUISSE3_R)
        with Locations(Location((0.570331496, -78.933633781, 0), (0, 0, 180))):
            Circle(ESQUISSE3_R)
        with Locations(Location((-68.897334865, -93.137788223, 0), (0, 0, 180))):
            Circle(ESQUISSE3_R_2)
        with Locations(Location((-146.02282508, -1.677868186, 0), (0, 0, 180))):
            Circle(ESQUISSE3_R_2)
        with Locations(Location((0.570331496, -1.684542717, 0), (0, 0, 180))):
            Circle(ESQUISSE3_R_2)
        with Locations(Location((-146.02282508, -21.677868186, 0), (0, 0, 180))):
            Circle(ESQUISSE3_R)
    extrude(amount=ENL_V_MAT_EXTRU_3_DEPTH, mode=Mode.SUBTRACT)


solid = part.part
